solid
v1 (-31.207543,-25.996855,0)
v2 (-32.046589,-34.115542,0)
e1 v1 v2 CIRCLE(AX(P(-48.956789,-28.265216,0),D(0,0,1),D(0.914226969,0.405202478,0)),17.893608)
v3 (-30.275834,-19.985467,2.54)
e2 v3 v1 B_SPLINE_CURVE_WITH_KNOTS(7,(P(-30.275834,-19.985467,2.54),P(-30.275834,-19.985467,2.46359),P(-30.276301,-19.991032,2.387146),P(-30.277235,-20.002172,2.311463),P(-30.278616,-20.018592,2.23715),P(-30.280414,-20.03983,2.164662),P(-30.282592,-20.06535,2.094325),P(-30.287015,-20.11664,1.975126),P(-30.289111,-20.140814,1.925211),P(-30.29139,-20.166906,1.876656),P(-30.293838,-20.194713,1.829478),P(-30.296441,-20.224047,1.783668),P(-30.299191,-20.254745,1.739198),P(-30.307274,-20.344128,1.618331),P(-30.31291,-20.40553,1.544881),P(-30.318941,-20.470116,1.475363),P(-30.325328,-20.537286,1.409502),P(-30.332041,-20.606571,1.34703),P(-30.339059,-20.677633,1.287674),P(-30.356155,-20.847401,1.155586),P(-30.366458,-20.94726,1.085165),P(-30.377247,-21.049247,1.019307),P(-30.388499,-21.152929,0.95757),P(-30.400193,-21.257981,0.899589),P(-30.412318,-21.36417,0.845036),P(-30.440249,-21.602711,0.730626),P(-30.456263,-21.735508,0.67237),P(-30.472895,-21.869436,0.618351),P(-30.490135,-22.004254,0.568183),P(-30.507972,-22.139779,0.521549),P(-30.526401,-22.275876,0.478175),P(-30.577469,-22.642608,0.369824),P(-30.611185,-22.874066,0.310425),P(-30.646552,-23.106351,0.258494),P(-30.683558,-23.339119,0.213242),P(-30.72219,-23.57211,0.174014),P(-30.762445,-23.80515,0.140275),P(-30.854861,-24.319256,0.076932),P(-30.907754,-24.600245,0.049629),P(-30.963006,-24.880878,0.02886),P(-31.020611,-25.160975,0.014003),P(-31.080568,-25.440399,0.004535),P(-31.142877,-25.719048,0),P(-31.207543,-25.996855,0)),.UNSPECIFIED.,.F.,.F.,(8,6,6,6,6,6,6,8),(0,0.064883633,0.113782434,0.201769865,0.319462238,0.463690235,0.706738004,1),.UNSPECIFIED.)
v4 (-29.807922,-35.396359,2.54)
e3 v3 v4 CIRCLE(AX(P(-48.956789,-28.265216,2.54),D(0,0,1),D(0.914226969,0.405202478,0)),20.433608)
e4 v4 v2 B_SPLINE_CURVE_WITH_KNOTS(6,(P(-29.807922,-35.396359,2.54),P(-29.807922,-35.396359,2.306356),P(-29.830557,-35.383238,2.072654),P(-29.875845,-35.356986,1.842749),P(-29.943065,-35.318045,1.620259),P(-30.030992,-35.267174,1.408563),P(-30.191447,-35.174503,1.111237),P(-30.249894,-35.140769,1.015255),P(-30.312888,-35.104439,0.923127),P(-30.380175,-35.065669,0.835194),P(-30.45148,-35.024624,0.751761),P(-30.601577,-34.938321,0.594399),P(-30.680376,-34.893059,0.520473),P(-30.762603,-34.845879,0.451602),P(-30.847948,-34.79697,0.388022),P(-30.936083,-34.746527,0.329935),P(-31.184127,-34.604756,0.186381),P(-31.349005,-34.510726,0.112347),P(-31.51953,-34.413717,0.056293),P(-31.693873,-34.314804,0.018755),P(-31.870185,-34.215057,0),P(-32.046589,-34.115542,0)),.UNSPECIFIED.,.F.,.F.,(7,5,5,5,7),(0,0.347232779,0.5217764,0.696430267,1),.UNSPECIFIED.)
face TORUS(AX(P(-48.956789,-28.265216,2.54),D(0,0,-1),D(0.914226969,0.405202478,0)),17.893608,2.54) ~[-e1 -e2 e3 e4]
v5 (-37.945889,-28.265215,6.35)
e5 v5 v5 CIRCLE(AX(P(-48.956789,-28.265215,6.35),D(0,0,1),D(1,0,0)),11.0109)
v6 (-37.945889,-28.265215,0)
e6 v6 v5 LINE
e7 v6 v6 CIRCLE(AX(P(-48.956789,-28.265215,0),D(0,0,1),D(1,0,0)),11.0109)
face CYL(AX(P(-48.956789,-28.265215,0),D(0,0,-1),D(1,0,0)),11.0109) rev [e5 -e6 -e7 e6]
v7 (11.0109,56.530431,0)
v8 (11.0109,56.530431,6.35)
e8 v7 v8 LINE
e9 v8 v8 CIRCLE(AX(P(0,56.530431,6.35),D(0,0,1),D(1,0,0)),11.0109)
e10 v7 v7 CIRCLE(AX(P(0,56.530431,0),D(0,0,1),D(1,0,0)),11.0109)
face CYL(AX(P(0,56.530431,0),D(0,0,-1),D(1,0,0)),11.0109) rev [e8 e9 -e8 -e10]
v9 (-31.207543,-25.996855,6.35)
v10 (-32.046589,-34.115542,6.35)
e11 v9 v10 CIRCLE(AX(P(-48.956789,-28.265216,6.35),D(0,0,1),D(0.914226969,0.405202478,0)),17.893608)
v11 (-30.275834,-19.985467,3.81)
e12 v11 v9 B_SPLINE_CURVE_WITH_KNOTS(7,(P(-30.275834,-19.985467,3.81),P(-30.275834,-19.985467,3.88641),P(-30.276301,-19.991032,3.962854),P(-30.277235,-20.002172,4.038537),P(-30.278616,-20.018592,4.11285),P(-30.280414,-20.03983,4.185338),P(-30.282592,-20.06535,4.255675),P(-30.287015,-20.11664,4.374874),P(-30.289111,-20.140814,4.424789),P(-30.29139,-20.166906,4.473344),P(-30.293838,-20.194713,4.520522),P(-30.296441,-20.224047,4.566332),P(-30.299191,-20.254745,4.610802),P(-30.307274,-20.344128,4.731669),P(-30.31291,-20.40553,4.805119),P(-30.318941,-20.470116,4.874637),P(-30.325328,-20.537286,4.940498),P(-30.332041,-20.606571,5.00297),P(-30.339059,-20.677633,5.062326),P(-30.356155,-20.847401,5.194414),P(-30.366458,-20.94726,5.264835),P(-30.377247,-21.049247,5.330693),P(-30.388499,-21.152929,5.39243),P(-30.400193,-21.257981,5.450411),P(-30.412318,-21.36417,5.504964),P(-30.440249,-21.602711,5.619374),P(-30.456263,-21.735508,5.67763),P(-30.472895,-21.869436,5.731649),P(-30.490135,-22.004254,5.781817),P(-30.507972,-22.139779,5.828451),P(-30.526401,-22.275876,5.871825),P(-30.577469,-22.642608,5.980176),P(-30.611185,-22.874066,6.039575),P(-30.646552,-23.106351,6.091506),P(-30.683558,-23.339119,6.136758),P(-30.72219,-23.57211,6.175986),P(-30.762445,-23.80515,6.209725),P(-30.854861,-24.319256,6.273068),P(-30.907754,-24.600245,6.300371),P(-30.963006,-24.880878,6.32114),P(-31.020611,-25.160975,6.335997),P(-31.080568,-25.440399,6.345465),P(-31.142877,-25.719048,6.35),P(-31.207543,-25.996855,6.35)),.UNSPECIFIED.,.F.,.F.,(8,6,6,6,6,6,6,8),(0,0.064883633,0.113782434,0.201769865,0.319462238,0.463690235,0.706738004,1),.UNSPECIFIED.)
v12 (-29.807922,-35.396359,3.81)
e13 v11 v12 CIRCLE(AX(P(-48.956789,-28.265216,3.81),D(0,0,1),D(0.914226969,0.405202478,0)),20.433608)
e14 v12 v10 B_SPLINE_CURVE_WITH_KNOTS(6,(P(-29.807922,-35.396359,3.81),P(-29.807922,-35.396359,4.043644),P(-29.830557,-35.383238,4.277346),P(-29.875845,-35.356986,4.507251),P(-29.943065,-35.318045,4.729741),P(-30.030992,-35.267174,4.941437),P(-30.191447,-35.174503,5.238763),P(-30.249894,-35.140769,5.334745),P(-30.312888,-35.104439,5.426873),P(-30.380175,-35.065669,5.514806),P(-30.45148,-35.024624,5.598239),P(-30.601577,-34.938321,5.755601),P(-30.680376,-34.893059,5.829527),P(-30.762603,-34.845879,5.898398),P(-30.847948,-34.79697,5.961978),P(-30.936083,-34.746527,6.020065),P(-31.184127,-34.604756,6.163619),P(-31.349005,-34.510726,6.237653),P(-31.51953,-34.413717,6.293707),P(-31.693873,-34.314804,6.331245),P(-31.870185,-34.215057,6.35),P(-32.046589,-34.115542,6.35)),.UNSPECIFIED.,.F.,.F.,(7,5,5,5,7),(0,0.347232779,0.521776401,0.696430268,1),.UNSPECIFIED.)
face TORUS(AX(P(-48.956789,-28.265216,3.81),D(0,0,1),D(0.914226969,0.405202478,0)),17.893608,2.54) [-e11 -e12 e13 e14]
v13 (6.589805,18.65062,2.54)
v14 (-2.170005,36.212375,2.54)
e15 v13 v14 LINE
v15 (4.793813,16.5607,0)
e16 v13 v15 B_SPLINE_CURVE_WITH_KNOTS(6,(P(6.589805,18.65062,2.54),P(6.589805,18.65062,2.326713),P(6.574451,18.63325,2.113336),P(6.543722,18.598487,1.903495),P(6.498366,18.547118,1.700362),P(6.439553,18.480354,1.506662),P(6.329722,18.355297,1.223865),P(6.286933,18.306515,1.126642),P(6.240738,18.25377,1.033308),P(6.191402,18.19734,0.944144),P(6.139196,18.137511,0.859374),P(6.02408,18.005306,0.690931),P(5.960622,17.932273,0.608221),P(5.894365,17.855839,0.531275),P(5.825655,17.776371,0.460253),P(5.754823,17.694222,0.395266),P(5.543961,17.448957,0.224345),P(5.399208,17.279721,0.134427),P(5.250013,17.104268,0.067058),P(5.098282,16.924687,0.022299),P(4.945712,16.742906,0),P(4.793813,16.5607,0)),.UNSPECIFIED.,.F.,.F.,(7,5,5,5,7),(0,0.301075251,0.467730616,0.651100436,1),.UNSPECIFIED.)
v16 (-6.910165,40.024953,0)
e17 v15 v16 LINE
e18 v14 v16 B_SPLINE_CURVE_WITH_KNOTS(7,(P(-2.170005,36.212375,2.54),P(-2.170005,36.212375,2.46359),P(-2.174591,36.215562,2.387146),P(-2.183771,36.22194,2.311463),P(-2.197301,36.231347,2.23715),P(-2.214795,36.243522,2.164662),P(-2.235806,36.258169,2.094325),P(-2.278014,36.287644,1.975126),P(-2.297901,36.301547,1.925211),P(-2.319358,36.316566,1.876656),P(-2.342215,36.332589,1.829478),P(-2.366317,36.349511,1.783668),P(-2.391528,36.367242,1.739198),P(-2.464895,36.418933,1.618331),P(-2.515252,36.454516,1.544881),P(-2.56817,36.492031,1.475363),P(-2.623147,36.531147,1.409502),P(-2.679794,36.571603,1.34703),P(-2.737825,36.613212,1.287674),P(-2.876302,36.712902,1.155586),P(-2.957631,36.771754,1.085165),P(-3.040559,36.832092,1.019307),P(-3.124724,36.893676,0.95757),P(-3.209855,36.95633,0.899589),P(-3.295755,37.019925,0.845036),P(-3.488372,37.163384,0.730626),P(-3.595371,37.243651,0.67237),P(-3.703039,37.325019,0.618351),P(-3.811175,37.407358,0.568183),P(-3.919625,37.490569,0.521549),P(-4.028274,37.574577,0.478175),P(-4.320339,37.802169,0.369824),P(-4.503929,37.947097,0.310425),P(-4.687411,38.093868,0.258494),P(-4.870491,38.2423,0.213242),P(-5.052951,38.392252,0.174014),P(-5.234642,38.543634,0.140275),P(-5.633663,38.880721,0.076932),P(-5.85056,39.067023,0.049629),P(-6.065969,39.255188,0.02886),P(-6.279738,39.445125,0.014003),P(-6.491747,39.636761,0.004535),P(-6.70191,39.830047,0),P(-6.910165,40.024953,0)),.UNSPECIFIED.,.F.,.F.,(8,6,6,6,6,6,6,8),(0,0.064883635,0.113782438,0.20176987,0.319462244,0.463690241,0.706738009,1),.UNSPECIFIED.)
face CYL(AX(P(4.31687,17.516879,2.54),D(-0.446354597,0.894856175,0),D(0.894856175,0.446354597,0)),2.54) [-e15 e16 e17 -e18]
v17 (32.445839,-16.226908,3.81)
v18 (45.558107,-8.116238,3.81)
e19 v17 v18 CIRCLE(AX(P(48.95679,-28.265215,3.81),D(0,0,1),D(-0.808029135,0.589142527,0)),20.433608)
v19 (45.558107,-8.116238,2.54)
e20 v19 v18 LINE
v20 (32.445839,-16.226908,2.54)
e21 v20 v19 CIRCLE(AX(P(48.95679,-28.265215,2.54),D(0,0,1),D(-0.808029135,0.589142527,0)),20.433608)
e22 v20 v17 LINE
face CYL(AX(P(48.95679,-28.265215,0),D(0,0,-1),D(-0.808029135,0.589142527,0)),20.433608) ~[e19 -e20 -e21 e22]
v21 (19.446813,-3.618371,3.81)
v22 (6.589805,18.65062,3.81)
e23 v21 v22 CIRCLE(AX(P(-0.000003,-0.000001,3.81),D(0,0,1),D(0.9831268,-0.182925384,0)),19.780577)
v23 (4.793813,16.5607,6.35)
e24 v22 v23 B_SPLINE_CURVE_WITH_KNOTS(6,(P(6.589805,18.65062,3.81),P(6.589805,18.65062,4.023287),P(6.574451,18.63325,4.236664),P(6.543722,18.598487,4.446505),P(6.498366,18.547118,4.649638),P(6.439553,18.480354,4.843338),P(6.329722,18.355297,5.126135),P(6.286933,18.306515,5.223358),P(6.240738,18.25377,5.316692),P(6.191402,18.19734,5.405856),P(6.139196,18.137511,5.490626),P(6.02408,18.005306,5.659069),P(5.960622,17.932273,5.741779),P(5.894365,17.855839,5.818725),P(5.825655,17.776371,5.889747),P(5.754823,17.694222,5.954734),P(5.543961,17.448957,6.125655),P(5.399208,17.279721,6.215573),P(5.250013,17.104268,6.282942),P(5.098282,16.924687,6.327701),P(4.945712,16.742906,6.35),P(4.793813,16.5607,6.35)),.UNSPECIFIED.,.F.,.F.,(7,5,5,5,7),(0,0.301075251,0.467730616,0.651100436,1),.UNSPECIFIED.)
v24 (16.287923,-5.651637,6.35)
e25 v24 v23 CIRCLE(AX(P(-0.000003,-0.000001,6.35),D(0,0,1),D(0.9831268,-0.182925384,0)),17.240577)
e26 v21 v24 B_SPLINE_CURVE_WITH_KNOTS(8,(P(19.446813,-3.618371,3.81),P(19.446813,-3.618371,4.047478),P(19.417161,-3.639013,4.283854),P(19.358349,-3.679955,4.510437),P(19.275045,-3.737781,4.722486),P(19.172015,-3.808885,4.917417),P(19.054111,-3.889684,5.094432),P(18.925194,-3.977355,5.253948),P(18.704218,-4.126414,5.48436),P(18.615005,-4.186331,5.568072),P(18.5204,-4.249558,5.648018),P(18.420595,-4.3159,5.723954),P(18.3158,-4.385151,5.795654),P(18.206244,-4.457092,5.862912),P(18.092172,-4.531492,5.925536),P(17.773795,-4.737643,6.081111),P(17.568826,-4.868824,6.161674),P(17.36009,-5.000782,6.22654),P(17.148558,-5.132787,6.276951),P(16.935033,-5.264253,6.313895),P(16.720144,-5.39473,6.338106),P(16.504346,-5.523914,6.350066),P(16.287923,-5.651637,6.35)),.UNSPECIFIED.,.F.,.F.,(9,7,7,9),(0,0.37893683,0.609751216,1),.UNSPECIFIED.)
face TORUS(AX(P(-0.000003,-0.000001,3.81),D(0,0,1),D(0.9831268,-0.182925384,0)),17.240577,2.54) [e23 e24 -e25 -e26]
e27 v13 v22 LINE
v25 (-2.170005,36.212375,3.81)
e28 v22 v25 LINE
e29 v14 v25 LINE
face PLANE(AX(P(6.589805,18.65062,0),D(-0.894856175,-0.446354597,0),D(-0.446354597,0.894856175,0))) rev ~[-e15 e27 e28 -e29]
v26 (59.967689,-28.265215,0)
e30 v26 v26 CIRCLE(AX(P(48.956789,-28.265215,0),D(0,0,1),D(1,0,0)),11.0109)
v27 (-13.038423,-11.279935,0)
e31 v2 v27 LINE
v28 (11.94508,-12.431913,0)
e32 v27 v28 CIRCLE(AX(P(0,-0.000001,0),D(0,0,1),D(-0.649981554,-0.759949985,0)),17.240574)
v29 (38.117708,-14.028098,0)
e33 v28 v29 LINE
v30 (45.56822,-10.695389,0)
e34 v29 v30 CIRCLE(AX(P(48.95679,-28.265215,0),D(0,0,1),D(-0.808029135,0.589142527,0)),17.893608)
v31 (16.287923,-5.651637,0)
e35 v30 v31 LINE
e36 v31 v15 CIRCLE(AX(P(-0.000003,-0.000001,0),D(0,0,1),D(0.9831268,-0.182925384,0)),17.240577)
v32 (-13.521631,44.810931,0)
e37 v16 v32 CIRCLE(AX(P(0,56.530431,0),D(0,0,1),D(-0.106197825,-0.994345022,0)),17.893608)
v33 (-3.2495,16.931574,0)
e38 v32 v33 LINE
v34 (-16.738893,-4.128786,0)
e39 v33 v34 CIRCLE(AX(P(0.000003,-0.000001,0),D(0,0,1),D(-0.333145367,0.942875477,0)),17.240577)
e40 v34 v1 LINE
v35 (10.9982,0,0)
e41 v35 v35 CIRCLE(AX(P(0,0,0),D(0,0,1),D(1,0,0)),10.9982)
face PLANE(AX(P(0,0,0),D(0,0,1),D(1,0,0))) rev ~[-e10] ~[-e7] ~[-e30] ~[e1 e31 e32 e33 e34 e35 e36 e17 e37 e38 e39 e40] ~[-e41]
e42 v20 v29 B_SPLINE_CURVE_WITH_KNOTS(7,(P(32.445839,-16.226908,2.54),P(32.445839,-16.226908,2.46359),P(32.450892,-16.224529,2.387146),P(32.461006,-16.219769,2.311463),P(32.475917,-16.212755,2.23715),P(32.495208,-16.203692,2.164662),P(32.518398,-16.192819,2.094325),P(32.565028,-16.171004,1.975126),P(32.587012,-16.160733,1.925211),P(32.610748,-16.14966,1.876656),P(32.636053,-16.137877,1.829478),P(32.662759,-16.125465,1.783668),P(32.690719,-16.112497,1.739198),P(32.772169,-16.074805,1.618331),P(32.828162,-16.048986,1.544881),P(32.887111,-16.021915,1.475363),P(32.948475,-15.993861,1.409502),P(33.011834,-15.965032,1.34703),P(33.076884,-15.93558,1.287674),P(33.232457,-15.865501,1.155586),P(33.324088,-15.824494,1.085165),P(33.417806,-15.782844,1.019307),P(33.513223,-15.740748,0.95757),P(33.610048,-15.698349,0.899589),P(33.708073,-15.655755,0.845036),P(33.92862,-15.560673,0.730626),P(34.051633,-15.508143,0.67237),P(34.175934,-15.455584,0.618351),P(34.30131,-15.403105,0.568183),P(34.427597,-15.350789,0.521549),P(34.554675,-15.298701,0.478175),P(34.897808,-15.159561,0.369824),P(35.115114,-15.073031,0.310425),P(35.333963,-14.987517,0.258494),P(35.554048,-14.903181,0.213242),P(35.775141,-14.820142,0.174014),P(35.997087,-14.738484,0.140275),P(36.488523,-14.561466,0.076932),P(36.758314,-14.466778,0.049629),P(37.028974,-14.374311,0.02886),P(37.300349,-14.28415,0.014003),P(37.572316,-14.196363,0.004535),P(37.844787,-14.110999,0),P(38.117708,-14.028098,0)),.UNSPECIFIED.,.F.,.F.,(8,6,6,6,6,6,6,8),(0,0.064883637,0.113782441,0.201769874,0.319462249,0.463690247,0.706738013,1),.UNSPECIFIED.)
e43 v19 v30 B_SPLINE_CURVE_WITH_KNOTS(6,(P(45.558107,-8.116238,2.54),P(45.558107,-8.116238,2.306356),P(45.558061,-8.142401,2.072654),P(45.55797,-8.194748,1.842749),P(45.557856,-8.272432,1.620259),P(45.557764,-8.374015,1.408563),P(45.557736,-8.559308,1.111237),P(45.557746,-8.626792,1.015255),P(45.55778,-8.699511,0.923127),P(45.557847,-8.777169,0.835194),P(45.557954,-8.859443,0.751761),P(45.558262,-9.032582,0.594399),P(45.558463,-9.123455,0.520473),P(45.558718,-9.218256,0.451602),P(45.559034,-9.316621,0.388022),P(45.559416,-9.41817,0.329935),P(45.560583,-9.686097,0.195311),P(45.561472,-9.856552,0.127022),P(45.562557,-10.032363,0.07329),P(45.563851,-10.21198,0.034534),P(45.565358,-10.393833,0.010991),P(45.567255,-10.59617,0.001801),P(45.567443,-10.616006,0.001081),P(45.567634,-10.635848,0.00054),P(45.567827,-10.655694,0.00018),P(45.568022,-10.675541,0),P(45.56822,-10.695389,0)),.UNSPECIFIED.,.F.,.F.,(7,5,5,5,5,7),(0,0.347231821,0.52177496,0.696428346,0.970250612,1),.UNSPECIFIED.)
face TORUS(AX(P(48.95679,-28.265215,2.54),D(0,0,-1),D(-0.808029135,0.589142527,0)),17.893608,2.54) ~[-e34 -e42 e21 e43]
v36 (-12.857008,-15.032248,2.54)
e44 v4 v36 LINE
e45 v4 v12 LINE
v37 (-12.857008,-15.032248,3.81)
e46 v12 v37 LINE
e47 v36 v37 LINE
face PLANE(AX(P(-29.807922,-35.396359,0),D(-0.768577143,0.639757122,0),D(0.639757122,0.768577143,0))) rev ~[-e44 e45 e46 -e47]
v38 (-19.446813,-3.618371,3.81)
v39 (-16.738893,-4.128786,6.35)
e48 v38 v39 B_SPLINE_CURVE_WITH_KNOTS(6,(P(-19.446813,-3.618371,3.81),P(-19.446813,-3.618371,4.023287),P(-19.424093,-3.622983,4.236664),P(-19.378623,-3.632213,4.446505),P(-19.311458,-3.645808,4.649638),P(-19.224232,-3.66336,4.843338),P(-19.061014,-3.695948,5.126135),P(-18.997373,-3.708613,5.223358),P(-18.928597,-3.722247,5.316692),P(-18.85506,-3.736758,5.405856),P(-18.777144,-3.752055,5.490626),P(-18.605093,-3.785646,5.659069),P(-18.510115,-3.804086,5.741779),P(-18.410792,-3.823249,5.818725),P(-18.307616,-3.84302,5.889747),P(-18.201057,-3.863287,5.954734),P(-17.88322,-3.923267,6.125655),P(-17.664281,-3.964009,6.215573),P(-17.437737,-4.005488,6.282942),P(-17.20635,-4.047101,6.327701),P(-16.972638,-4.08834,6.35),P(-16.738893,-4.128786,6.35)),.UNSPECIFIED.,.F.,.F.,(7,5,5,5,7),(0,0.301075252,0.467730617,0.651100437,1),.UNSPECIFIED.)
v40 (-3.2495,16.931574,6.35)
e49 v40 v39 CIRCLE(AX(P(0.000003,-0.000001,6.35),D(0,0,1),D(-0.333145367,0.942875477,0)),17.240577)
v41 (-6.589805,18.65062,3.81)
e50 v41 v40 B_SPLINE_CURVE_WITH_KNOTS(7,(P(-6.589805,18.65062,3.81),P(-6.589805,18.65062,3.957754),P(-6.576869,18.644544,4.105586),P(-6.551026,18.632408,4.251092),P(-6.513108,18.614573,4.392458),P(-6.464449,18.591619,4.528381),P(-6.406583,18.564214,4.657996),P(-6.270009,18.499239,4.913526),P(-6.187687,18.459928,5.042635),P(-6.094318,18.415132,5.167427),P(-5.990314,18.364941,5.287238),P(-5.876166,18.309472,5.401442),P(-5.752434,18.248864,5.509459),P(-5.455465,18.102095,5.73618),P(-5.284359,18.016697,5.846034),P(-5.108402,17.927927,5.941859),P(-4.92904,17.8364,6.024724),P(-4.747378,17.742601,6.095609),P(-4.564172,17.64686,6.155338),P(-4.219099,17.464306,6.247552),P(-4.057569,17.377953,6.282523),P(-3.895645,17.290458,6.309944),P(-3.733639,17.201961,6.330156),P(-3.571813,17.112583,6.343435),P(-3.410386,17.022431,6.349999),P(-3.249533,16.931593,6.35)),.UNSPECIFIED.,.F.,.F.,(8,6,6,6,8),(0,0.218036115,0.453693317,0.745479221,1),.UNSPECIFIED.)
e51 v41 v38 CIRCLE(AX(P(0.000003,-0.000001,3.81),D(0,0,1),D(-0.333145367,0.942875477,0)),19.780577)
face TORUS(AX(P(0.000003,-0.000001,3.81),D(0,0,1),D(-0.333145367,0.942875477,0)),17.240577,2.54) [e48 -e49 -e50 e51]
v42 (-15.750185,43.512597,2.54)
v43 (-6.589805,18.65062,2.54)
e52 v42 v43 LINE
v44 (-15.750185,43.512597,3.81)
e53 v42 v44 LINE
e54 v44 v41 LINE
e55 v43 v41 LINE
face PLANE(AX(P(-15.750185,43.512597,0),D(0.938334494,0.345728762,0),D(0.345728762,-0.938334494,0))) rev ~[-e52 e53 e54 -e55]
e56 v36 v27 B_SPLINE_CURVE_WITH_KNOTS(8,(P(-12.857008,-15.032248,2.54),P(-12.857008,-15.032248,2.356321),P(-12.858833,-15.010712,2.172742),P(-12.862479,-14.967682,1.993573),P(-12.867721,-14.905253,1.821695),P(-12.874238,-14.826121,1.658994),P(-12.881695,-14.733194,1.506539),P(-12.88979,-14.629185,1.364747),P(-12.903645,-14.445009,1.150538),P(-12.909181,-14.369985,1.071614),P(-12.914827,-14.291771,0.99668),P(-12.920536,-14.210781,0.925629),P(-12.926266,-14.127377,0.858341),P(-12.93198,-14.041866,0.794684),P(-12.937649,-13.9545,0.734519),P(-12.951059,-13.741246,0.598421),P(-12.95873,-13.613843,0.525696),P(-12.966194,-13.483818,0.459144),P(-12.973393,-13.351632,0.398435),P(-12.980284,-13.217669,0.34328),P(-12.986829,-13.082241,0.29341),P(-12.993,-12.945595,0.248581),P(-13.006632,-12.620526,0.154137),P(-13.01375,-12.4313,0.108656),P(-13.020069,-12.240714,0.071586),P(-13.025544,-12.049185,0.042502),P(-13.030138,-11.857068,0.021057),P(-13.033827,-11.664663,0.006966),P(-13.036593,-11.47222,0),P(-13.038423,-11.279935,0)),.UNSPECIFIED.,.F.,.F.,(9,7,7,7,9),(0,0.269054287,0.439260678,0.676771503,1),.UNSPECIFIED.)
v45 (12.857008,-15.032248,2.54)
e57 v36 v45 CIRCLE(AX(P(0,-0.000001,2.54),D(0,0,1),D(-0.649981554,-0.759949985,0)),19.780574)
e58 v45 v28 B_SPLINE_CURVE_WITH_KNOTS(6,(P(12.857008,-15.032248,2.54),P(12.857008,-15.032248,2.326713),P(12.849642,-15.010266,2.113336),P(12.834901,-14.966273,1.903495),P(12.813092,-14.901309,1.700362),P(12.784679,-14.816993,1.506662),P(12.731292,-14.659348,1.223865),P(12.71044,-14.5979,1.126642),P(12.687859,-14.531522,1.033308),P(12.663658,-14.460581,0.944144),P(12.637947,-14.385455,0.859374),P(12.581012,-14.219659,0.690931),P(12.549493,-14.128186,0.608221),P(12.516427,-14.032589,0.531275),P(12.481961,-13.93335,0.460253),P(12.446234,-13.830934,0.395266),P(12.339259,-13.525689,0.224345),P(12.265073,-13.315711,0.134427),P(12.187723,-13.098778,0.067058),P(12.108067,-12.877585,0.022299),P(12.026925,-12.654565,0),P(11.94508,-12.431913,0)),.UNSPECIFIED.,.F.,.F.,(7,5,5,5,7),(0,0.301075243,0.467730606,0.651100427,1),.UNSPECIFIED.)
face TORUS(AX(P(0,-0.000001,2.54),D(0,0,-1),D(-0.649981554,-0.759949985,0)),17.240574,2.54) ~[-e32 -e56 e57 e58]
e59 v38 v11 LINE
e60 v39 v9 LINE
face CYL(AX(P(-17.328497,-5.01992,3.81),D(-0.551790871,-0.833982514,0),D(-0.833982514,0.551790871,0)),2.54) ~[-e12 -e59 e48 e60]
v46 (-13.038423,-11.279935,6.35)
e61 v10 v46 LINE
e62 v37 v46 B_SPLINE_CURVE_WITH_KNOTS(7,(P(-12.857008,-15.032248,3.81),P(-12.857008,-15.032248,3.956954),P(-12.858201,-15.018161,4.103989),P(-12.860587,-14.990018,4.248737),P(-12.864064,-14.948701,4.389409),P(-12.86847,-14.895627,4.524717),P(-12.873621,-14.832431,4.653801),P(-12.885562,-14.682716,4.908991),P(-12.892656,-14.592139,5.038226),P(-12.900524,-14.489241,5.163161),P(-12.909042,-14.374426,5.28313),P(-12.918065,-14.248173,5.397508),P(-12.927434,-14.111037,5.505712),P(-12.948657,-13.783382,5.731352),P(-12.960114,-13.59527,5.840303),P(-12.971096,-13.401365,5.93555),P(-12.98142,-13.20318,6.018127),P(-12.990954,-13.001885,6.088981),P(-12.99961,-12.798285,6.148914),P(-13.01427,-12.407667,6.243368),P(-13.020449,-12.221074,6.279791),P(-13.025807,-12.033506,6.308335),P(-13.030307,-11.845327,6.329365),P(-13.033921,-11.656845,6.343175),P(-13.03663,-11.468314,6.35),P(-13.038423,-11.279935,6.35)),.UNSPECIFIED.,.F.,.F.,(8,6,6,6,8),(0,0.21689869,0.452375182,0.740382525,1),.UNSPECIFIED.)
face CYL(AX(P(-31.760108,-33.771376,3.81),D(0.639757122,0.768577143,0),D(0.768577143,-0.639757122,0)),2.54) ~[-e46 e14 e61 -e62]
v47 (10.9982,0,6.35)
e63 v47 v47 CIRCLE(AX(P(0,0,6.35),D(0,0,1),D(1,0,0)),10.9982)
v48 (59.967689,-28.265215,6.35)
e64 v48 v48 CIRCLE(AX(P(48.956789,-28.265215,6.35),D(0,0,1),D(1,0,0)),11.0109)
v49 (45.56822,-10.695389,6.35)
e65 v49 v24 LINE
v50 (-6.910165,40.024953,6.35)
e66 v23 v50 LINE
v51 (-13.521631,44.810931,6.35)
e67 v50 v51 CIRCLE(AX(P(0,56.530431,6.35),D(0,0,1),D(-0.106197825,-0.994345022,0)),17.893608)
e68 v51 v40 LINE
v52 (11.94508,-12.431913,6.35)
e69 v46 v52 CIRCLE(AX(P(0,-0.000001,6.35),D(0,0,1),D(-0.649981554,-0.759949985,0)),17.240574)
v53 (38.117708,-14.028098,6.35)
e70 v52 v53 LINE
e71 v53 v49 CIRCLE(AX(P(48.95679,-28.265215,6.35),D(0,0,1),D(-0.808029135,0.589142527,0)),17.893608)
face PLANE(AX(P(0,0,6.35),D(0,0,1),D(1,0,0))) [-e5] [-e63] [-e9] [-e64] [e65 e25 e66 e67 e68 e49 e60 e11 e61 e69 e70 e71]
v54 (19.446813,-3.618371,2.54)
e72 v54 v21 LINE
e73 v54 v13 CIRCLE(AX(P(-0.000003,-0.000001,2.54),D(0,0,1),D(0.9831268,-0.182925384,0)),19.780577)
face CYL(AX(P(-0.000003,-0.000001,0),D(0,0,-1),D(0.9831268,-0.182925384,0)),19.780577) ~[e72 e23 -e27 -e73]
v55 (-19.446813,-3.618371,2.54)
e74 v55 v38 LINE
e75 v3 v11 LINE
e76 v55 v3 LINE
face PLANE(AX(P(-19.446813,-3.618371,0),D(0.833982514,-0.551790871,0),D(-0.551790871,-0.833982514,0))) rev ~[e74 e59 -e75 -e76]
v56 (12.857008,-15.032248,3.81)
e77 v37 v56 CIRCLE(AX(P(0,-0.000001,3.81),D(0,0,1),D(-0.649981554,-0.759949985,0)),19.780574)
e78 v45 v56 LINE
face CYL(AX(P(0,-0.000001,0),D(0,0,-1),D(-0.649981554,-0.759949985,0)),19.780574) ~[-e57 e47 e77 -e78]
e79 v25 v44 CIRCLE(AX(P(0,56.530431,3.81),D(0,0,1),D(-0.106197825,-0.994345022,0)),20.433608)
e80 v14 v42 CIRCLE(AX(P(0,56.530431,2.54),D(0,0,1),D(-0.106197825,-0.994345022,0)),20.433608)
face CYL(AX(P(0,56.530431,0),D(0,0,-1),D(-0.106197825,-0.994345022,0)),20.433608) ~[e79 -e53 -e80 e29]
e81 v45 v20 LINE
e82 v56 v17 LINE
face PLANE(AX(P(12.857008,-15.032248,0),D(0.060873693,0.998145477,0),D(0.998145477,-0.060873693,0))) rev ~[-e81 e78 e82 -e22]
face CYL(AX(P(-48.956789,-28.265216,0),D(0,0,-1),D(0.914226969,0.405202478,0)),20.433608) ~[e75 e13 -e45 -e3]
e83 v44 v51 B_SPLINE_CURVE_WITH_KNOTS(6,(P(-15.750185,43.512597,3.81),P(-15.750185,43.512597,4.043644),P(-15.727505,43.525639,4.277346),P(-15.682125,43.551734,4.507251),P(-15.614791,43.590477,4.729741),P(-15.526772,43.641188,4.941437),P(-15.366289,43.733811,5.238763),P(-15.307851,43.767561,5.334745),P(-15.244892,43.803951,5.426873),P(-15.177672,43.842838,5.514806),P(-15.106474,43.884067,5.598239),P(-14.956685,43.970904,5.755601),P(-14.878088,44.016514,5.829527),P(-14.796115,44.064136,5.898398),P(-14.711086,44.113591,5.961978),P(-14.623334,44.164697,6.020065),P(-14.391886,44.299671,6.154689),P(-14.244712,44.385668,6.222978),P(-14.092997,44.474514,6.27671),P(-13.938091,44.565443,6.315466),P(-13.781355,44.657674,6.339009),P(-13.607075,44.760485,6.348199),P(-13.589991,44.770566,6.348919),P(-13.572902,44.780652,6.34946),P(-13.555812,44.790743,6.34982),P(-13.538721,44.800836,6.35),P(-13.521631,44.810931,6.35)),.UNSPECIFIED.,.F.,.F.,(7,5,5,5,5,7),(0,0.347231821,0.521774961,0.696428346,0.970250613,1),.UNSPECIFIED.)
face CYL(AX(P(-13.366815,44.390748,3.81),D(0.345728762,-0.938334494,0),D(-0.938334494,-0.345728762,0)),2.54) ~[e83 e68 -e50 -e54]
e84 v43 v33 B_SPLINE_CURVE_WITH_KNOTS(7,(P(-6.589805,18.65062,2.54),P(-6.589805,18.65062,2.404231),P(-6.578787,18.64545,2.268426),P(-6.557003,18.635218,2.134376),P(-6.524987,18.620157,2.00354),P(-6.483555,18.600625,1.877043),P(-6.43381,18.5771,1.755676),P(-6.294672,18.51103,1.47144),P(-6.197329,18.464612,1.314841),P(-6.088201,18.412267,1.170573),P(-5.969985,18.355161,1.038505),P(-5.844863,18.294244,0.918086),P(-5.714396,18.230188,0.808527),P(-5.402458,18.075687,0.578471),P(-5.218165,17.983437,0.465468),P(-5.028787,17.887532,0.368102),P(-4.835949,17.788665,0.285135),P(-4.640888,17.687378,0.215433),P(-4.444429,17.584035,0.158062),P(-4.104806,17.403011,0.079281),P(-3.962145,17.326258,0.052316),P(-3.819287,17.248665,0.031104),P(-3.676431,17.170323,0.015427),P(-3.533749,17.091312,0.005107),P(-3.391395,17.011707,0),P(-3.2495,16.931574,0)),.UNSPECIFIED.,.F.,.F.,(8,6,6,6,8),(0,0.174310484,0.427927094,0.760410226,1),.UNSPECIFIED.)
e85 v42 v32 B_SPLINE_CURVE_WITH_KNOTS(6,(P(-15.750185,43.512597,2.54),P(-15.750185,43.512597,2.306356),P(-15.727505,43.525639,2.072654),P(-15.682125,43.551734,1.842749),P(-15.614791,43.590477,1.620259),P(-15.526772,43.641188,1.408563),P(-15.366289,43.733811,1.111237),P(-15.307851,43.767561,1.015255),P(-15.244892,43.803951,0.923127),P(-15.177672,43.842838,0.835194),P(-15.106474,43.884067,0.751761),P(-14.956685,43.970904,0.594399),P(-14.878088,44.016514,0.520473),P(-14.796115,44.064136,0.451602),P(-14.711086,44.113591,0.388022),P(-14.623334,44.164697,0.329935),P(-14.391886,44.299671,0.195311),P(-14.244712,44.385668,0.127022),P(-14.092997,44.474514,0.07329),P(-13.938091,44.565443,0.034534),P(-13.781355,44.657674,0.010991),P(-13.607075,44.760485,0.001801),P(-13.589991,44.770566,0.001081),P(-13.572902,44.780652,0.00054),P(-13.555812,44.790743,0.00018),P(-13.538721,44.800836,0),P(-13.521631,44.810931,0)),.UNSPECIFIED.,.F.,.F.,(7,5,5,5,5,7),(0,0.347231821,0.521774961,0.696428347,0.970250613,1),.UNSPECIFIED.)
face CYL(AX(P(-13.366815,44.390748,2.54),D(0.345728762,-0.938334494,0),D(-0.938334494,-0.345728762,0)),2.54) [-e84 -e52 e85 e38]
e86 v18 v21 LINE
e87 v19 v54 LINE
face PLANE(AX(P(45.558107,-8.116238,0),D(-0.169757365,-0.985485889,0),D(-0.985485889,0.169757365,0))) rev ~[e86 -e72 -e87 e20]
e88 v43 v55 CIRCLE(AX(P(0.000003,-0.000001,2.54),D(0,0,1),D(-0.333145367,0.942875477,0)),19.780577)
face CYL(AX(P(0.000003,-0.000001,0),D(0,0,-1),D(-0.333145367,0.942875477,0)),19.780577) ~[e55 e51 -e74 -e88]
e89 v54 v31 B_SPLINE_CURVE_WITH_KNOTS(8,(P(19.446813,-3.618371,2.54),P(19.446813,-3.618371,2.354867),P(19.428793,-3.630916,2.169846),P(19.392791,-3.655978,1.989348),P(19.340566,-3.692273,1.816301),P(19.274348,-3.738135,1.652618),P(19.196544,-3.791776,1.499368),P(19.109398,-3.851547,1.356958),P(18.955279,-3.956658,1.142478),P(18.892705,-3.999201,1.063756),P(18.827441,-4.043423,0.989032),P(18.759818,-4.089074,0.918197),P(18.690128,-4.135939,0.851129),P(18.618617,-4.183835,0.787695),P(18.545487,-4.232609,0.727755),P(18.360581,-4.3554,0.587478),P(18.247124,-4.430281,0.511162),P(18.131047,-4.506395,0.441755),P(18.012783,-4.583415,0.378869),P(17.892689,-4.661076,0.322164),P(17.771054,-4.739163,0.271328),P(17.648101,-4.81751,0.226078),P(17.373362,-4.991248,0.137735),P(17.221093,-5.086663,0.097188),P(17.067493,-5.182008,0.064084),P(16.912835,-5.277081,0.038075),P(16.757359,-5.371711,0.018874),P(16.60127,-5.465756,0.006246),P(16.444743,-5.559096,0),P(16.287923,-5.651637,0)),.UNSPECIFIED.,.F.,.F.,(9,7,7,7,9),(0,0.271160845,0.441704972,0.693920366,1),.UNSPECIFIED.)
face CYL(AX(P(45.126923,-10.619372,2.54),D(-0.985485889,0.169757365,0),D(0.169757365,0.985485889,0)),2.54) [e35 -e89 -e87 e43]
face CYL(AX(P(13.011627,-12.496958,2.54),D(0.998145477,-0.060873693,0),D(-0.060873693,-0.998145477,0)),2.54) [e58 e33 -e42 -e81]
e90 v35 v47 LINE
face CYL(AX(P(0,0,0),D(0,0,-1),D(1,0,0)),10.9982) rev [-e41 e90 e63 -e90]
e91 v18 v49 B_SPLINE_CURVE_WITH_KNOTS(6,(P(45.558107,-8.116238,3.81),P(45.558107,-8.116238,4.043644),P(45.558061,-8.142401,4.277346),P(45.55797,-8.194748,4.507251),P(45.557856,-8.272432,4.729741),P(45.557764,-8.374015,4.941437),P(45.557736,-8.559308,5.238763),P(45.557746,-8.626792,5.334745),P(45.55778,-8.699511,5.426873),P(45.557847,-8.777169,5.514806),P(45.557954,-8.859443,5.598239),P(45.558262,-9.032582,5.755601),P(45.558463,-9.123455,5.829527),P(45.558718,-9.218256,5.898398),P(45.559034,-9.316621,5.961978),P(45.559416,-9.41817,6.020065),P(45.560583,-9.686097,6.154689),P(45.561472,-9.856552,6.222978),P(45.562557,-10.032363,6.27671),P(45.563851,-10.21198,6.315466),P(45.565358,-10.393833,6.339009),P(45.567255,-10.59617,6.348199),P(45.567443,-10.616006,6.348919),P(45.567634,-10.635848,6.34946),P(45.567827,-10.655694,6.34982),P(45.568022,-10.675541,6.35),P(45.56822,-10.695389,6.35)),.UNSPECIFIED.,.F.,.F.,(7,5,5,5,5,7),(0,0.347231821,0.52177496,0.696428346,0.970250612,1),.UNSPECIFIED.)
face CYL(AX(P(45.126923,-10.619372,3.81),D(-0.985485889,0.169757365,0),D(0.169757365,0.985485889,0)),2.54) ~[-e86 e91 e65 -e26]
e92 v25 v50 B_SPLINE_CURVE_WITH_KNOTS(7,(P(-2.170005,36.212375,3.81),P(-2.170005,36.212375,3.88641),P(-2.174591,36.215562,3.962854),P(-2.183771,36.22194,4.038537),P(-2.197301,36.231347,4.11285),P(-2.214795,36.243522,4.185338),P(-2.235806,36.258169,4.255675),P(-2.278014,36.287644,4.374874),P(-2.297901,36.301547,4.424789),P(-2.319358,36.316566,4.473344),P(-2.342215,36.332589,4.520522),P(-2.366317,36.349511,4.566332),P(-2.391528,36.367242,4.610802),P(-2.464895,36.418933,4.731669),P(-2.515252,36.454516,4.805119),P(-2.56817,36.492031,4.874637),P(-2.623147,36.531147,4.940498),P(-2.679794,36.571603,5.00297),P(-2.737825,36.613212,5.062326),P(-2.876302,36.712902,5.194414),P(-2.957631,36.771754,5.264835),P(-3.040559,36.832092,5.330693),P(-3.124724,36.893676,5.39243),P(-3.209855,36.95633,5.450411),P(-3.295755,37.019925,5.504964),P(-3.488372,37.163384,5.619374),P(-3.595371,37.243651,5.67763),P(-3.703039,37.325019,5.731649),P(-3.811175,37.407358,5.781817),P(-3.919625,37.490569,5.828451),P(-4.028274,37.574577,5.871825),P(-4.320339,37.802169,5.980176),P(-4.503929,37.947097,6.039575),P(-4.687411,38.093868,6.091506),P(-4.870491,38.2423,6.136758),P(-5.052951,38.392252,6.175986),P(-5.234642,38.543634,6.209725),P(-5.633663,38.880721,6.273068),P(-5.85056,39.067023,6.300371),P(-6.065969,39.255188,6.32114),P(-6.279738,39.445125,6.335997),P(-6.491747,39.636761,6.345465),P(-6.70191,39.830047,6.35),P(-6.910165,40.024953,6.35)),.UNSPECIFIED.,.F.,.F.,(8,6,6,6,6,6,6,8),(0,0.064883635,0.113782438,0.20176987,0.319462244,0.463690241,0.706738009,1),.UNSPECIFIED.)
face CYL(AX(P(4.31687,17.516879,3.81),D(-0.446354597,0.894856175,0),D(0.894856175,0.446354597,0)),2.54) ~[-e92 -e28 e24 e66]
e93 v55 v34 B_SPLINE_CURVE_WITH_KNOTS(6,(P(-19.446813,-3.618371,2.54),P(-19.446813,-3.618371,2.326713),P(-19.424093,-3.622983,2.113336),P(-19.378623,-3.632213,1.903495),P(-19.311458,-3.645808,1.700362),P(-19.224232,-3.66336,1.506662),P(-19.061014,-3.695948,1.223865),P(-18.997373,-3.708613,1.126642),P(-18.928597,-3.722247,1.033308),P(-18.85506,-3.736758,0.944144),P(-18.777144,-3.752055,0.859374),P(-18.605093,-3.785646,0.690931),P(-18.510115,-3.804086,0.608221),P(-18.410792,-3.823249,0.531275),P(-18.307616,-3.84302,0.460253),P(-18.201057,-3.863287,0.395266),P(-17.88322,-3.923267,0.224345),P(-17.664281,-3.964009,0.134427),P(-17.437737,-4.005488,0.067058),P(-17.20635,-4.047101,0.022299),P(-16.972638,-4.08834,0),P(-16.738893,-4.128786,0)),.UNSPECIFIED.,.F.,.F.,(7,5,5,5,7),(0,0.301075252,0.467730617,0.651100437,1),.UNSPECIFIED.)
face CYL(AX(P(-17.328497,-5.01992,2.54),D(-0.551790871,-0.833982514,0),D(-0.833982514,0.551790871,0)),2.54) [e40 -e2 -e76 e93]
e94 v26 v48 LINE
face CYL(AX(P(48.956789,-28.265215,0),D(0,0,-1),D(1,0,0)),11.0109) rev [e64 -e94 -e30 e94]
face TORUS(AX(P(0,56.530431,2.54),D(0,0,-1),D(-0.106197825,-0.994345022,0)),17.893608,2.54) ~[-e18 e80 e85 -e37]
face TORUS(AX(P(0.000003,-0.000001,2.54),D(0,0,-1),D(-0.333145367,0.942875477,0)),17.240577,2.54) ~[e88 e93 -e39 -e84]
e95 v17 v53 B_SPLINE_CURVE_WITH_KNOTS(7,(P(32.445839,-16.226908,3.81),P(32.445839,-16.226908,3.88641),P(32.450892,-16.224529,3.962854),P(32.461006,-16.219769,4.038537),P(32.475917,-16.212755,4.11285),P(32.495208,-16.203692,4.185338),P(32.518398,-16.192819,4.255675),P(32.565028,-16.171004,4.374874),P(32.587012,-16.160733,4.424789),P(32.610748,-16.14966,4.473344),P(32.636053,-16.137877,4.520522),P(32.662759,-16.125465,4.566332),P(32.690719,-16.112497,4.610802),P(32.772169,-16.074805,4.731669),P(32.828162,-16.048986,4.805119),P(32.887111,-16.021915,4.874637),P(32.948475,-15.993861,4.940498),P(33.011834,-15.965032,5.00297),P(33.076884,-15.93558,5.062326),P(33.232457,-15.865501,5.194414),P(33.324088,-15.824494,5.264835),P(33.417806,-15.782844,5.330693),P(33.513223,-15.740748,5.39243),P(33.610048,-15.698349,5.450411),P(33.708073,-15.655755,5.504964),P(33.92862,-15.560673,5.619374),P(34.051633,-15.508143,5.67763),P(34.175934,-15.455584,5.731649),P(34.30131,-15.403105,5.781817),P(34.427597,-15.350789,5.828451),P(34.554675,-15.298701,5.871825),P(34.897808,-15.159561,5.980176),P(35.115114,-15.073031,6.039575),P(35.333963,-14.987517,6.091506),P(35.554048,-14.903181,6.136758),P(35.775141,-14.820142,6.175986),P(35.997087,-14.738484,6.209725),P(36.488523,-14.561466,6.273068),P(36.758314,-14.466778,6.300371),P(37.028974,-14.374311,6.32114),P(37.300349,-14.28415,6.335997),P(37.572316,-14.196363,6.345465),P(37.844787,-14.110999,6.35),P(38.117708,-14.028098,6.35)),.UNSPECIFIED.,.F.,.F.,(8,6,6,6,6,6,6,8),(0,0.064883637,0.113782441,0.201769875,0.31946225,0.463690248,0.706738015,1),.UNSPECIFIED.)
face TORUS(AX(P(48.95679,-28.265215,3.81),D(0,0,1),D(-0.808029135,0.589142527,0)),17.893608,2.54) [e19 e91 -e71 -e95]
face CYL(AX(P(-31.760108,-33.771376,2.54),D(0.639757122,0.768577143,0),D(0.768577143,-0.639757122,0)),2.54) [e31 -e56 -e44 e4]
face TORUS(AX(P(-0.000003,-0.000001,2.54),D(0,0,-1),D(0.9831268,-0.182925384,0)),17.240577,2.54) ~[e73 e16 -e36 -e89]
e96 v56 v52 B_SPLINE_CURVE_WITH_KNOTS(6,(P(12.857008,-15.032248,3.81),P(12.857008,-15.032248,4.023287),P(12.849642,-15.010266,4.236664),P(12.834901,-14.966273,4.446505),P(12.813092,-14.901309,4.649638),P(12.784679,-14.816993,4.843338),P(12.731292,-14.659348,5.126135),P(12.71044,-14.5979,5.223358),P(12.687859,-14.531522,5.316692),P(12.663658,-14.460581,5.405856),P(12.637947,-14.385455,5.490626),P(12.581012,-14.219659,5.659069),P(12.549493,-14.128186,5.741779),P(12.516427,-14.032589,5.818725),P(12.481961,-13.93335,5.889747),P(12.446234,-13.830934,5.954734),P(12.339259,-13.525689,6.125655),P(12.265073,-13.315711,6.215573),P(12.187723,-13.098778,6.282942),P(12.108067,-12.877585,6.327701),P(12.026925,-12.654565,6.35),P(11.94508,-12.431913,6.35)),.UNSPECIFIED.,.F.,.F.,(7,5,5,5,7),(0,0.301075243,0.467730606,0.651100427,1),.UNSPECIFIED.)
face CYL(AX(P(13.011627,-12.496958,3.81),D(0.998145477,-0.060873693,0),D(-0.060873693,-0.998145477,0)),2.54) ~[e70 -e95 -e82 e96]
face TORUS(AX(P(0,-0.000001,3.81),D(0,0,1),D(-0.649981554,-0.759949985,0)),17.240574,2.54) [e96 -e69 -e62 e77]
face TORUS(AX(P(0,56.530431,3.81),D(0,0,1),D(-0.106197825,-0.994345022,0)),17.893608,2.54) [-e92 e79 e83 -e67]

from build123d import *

# Parameters (mm, degrees)
F0_R     = 11.0109
F0_R_2   = 10.9982
F1_DEPTH = 6.35
F2_R     = 2.54


with BuildPart() as f1:
    # F0 (on Top) → F1 (new body)
    with BuildSketch(Plane.XY):
        with BuildLine():
            Line((6.589805, 18.65062), (-2.170005, 36.212375))
            ThreePointArc((-2.170005, 36.212375), (9.675051, 74.528367), (-15.750185, 43.512597))
            Line((-15.750185, 43.512597), (-6.589805, 18.65062))
            ThreePointArc((-6.589805, 18.65062), (-17.13048, 9.890287), (-19.446813, -3.618371))
            Line((-19.446813, -3.618371), (-30.275834, -19.985467))
            ThreePointArc((-30.275834, -19.985467), (-69.380985, -28.885343), (-29.807922, -35.396359))
            Line((-29.807922, -35.396359), (-12.857008, -15.032248))
            ThreePointArc((-12.857008, -15.032248), (0, -19.780575), (12.857008, -15.032248))
            Line((12.857008, -15.032248), (32.445839, -16.226908))
            ThreePointArc((32.445839, -16.226908), (59.705934, -45.643024), (45.558107, -8.116238))
            Line((45.558107, -8.116238), (19.446813, -3.618371))
            ThreePointArc((19.446813, -3.618371), (17.13048, 9.890287), (6.589805, 18.65062))
        make_face()
        with Locations((-48.956789, -28.265215)):
            Circle(F0_R, mode=Mode.SUBTRACT)
        with Locations((48.956789, -28.265215)):
            Circle(F0_R, mode=Mode.SUBTRACT)
        Circle(F0_R_2, mode=Mode.SUBTRACT)
        with Locations((0, 56.530431)):
            Circle(F0_R, mode=Mode.SUBTRACT)
    extrude(amount=F1_DEPTH)

    # F2
    f2_edges = [f1.edges().sort_by_distance(p)[0] for p in [
        (0, -19.780575, 6.35),
        (-21.332465, -25.214304, 6.35),
        (-69.380985, -28.885343, 6.35),
        (-17.13048, 9.890287, 6.35),
        (-69.380985, -28.885343, 0),
        (-24.861323, -11.801919, 6.35),
        (-11.169995, 31.081608, 6.35),
        (2.2099, 27.431497, 6.35),
        (9.675051, 74.528367, 6.35),
        (32.50246, -5.867305, 6.35),
        (22.651423, -15.629578, 6.35),
        (59.705934, -45.643024, 6.35),
        (17.13048, 9.890287, 6.35),
        (9.675051, 74.528367, 0),
        (-11.169995, 31.081608, 0),
        (2.2099, 27.431497, 0),
        (17.13048, 9.890287, 0),
        (-17.13048, 9.890287, 0),
        (-24.861323, -11.801919, 0),
        (32.50246, -5.867305, 0),
        (59.705934, -45.643024, 0),
        (0, -19.780575, 0),
        (22.651423, -15.629578, 0),
        (-21.332465, -25.214304, 0),
    ]]
    fillet(f2_edges, radius=F2_R)


solid = f1.part
